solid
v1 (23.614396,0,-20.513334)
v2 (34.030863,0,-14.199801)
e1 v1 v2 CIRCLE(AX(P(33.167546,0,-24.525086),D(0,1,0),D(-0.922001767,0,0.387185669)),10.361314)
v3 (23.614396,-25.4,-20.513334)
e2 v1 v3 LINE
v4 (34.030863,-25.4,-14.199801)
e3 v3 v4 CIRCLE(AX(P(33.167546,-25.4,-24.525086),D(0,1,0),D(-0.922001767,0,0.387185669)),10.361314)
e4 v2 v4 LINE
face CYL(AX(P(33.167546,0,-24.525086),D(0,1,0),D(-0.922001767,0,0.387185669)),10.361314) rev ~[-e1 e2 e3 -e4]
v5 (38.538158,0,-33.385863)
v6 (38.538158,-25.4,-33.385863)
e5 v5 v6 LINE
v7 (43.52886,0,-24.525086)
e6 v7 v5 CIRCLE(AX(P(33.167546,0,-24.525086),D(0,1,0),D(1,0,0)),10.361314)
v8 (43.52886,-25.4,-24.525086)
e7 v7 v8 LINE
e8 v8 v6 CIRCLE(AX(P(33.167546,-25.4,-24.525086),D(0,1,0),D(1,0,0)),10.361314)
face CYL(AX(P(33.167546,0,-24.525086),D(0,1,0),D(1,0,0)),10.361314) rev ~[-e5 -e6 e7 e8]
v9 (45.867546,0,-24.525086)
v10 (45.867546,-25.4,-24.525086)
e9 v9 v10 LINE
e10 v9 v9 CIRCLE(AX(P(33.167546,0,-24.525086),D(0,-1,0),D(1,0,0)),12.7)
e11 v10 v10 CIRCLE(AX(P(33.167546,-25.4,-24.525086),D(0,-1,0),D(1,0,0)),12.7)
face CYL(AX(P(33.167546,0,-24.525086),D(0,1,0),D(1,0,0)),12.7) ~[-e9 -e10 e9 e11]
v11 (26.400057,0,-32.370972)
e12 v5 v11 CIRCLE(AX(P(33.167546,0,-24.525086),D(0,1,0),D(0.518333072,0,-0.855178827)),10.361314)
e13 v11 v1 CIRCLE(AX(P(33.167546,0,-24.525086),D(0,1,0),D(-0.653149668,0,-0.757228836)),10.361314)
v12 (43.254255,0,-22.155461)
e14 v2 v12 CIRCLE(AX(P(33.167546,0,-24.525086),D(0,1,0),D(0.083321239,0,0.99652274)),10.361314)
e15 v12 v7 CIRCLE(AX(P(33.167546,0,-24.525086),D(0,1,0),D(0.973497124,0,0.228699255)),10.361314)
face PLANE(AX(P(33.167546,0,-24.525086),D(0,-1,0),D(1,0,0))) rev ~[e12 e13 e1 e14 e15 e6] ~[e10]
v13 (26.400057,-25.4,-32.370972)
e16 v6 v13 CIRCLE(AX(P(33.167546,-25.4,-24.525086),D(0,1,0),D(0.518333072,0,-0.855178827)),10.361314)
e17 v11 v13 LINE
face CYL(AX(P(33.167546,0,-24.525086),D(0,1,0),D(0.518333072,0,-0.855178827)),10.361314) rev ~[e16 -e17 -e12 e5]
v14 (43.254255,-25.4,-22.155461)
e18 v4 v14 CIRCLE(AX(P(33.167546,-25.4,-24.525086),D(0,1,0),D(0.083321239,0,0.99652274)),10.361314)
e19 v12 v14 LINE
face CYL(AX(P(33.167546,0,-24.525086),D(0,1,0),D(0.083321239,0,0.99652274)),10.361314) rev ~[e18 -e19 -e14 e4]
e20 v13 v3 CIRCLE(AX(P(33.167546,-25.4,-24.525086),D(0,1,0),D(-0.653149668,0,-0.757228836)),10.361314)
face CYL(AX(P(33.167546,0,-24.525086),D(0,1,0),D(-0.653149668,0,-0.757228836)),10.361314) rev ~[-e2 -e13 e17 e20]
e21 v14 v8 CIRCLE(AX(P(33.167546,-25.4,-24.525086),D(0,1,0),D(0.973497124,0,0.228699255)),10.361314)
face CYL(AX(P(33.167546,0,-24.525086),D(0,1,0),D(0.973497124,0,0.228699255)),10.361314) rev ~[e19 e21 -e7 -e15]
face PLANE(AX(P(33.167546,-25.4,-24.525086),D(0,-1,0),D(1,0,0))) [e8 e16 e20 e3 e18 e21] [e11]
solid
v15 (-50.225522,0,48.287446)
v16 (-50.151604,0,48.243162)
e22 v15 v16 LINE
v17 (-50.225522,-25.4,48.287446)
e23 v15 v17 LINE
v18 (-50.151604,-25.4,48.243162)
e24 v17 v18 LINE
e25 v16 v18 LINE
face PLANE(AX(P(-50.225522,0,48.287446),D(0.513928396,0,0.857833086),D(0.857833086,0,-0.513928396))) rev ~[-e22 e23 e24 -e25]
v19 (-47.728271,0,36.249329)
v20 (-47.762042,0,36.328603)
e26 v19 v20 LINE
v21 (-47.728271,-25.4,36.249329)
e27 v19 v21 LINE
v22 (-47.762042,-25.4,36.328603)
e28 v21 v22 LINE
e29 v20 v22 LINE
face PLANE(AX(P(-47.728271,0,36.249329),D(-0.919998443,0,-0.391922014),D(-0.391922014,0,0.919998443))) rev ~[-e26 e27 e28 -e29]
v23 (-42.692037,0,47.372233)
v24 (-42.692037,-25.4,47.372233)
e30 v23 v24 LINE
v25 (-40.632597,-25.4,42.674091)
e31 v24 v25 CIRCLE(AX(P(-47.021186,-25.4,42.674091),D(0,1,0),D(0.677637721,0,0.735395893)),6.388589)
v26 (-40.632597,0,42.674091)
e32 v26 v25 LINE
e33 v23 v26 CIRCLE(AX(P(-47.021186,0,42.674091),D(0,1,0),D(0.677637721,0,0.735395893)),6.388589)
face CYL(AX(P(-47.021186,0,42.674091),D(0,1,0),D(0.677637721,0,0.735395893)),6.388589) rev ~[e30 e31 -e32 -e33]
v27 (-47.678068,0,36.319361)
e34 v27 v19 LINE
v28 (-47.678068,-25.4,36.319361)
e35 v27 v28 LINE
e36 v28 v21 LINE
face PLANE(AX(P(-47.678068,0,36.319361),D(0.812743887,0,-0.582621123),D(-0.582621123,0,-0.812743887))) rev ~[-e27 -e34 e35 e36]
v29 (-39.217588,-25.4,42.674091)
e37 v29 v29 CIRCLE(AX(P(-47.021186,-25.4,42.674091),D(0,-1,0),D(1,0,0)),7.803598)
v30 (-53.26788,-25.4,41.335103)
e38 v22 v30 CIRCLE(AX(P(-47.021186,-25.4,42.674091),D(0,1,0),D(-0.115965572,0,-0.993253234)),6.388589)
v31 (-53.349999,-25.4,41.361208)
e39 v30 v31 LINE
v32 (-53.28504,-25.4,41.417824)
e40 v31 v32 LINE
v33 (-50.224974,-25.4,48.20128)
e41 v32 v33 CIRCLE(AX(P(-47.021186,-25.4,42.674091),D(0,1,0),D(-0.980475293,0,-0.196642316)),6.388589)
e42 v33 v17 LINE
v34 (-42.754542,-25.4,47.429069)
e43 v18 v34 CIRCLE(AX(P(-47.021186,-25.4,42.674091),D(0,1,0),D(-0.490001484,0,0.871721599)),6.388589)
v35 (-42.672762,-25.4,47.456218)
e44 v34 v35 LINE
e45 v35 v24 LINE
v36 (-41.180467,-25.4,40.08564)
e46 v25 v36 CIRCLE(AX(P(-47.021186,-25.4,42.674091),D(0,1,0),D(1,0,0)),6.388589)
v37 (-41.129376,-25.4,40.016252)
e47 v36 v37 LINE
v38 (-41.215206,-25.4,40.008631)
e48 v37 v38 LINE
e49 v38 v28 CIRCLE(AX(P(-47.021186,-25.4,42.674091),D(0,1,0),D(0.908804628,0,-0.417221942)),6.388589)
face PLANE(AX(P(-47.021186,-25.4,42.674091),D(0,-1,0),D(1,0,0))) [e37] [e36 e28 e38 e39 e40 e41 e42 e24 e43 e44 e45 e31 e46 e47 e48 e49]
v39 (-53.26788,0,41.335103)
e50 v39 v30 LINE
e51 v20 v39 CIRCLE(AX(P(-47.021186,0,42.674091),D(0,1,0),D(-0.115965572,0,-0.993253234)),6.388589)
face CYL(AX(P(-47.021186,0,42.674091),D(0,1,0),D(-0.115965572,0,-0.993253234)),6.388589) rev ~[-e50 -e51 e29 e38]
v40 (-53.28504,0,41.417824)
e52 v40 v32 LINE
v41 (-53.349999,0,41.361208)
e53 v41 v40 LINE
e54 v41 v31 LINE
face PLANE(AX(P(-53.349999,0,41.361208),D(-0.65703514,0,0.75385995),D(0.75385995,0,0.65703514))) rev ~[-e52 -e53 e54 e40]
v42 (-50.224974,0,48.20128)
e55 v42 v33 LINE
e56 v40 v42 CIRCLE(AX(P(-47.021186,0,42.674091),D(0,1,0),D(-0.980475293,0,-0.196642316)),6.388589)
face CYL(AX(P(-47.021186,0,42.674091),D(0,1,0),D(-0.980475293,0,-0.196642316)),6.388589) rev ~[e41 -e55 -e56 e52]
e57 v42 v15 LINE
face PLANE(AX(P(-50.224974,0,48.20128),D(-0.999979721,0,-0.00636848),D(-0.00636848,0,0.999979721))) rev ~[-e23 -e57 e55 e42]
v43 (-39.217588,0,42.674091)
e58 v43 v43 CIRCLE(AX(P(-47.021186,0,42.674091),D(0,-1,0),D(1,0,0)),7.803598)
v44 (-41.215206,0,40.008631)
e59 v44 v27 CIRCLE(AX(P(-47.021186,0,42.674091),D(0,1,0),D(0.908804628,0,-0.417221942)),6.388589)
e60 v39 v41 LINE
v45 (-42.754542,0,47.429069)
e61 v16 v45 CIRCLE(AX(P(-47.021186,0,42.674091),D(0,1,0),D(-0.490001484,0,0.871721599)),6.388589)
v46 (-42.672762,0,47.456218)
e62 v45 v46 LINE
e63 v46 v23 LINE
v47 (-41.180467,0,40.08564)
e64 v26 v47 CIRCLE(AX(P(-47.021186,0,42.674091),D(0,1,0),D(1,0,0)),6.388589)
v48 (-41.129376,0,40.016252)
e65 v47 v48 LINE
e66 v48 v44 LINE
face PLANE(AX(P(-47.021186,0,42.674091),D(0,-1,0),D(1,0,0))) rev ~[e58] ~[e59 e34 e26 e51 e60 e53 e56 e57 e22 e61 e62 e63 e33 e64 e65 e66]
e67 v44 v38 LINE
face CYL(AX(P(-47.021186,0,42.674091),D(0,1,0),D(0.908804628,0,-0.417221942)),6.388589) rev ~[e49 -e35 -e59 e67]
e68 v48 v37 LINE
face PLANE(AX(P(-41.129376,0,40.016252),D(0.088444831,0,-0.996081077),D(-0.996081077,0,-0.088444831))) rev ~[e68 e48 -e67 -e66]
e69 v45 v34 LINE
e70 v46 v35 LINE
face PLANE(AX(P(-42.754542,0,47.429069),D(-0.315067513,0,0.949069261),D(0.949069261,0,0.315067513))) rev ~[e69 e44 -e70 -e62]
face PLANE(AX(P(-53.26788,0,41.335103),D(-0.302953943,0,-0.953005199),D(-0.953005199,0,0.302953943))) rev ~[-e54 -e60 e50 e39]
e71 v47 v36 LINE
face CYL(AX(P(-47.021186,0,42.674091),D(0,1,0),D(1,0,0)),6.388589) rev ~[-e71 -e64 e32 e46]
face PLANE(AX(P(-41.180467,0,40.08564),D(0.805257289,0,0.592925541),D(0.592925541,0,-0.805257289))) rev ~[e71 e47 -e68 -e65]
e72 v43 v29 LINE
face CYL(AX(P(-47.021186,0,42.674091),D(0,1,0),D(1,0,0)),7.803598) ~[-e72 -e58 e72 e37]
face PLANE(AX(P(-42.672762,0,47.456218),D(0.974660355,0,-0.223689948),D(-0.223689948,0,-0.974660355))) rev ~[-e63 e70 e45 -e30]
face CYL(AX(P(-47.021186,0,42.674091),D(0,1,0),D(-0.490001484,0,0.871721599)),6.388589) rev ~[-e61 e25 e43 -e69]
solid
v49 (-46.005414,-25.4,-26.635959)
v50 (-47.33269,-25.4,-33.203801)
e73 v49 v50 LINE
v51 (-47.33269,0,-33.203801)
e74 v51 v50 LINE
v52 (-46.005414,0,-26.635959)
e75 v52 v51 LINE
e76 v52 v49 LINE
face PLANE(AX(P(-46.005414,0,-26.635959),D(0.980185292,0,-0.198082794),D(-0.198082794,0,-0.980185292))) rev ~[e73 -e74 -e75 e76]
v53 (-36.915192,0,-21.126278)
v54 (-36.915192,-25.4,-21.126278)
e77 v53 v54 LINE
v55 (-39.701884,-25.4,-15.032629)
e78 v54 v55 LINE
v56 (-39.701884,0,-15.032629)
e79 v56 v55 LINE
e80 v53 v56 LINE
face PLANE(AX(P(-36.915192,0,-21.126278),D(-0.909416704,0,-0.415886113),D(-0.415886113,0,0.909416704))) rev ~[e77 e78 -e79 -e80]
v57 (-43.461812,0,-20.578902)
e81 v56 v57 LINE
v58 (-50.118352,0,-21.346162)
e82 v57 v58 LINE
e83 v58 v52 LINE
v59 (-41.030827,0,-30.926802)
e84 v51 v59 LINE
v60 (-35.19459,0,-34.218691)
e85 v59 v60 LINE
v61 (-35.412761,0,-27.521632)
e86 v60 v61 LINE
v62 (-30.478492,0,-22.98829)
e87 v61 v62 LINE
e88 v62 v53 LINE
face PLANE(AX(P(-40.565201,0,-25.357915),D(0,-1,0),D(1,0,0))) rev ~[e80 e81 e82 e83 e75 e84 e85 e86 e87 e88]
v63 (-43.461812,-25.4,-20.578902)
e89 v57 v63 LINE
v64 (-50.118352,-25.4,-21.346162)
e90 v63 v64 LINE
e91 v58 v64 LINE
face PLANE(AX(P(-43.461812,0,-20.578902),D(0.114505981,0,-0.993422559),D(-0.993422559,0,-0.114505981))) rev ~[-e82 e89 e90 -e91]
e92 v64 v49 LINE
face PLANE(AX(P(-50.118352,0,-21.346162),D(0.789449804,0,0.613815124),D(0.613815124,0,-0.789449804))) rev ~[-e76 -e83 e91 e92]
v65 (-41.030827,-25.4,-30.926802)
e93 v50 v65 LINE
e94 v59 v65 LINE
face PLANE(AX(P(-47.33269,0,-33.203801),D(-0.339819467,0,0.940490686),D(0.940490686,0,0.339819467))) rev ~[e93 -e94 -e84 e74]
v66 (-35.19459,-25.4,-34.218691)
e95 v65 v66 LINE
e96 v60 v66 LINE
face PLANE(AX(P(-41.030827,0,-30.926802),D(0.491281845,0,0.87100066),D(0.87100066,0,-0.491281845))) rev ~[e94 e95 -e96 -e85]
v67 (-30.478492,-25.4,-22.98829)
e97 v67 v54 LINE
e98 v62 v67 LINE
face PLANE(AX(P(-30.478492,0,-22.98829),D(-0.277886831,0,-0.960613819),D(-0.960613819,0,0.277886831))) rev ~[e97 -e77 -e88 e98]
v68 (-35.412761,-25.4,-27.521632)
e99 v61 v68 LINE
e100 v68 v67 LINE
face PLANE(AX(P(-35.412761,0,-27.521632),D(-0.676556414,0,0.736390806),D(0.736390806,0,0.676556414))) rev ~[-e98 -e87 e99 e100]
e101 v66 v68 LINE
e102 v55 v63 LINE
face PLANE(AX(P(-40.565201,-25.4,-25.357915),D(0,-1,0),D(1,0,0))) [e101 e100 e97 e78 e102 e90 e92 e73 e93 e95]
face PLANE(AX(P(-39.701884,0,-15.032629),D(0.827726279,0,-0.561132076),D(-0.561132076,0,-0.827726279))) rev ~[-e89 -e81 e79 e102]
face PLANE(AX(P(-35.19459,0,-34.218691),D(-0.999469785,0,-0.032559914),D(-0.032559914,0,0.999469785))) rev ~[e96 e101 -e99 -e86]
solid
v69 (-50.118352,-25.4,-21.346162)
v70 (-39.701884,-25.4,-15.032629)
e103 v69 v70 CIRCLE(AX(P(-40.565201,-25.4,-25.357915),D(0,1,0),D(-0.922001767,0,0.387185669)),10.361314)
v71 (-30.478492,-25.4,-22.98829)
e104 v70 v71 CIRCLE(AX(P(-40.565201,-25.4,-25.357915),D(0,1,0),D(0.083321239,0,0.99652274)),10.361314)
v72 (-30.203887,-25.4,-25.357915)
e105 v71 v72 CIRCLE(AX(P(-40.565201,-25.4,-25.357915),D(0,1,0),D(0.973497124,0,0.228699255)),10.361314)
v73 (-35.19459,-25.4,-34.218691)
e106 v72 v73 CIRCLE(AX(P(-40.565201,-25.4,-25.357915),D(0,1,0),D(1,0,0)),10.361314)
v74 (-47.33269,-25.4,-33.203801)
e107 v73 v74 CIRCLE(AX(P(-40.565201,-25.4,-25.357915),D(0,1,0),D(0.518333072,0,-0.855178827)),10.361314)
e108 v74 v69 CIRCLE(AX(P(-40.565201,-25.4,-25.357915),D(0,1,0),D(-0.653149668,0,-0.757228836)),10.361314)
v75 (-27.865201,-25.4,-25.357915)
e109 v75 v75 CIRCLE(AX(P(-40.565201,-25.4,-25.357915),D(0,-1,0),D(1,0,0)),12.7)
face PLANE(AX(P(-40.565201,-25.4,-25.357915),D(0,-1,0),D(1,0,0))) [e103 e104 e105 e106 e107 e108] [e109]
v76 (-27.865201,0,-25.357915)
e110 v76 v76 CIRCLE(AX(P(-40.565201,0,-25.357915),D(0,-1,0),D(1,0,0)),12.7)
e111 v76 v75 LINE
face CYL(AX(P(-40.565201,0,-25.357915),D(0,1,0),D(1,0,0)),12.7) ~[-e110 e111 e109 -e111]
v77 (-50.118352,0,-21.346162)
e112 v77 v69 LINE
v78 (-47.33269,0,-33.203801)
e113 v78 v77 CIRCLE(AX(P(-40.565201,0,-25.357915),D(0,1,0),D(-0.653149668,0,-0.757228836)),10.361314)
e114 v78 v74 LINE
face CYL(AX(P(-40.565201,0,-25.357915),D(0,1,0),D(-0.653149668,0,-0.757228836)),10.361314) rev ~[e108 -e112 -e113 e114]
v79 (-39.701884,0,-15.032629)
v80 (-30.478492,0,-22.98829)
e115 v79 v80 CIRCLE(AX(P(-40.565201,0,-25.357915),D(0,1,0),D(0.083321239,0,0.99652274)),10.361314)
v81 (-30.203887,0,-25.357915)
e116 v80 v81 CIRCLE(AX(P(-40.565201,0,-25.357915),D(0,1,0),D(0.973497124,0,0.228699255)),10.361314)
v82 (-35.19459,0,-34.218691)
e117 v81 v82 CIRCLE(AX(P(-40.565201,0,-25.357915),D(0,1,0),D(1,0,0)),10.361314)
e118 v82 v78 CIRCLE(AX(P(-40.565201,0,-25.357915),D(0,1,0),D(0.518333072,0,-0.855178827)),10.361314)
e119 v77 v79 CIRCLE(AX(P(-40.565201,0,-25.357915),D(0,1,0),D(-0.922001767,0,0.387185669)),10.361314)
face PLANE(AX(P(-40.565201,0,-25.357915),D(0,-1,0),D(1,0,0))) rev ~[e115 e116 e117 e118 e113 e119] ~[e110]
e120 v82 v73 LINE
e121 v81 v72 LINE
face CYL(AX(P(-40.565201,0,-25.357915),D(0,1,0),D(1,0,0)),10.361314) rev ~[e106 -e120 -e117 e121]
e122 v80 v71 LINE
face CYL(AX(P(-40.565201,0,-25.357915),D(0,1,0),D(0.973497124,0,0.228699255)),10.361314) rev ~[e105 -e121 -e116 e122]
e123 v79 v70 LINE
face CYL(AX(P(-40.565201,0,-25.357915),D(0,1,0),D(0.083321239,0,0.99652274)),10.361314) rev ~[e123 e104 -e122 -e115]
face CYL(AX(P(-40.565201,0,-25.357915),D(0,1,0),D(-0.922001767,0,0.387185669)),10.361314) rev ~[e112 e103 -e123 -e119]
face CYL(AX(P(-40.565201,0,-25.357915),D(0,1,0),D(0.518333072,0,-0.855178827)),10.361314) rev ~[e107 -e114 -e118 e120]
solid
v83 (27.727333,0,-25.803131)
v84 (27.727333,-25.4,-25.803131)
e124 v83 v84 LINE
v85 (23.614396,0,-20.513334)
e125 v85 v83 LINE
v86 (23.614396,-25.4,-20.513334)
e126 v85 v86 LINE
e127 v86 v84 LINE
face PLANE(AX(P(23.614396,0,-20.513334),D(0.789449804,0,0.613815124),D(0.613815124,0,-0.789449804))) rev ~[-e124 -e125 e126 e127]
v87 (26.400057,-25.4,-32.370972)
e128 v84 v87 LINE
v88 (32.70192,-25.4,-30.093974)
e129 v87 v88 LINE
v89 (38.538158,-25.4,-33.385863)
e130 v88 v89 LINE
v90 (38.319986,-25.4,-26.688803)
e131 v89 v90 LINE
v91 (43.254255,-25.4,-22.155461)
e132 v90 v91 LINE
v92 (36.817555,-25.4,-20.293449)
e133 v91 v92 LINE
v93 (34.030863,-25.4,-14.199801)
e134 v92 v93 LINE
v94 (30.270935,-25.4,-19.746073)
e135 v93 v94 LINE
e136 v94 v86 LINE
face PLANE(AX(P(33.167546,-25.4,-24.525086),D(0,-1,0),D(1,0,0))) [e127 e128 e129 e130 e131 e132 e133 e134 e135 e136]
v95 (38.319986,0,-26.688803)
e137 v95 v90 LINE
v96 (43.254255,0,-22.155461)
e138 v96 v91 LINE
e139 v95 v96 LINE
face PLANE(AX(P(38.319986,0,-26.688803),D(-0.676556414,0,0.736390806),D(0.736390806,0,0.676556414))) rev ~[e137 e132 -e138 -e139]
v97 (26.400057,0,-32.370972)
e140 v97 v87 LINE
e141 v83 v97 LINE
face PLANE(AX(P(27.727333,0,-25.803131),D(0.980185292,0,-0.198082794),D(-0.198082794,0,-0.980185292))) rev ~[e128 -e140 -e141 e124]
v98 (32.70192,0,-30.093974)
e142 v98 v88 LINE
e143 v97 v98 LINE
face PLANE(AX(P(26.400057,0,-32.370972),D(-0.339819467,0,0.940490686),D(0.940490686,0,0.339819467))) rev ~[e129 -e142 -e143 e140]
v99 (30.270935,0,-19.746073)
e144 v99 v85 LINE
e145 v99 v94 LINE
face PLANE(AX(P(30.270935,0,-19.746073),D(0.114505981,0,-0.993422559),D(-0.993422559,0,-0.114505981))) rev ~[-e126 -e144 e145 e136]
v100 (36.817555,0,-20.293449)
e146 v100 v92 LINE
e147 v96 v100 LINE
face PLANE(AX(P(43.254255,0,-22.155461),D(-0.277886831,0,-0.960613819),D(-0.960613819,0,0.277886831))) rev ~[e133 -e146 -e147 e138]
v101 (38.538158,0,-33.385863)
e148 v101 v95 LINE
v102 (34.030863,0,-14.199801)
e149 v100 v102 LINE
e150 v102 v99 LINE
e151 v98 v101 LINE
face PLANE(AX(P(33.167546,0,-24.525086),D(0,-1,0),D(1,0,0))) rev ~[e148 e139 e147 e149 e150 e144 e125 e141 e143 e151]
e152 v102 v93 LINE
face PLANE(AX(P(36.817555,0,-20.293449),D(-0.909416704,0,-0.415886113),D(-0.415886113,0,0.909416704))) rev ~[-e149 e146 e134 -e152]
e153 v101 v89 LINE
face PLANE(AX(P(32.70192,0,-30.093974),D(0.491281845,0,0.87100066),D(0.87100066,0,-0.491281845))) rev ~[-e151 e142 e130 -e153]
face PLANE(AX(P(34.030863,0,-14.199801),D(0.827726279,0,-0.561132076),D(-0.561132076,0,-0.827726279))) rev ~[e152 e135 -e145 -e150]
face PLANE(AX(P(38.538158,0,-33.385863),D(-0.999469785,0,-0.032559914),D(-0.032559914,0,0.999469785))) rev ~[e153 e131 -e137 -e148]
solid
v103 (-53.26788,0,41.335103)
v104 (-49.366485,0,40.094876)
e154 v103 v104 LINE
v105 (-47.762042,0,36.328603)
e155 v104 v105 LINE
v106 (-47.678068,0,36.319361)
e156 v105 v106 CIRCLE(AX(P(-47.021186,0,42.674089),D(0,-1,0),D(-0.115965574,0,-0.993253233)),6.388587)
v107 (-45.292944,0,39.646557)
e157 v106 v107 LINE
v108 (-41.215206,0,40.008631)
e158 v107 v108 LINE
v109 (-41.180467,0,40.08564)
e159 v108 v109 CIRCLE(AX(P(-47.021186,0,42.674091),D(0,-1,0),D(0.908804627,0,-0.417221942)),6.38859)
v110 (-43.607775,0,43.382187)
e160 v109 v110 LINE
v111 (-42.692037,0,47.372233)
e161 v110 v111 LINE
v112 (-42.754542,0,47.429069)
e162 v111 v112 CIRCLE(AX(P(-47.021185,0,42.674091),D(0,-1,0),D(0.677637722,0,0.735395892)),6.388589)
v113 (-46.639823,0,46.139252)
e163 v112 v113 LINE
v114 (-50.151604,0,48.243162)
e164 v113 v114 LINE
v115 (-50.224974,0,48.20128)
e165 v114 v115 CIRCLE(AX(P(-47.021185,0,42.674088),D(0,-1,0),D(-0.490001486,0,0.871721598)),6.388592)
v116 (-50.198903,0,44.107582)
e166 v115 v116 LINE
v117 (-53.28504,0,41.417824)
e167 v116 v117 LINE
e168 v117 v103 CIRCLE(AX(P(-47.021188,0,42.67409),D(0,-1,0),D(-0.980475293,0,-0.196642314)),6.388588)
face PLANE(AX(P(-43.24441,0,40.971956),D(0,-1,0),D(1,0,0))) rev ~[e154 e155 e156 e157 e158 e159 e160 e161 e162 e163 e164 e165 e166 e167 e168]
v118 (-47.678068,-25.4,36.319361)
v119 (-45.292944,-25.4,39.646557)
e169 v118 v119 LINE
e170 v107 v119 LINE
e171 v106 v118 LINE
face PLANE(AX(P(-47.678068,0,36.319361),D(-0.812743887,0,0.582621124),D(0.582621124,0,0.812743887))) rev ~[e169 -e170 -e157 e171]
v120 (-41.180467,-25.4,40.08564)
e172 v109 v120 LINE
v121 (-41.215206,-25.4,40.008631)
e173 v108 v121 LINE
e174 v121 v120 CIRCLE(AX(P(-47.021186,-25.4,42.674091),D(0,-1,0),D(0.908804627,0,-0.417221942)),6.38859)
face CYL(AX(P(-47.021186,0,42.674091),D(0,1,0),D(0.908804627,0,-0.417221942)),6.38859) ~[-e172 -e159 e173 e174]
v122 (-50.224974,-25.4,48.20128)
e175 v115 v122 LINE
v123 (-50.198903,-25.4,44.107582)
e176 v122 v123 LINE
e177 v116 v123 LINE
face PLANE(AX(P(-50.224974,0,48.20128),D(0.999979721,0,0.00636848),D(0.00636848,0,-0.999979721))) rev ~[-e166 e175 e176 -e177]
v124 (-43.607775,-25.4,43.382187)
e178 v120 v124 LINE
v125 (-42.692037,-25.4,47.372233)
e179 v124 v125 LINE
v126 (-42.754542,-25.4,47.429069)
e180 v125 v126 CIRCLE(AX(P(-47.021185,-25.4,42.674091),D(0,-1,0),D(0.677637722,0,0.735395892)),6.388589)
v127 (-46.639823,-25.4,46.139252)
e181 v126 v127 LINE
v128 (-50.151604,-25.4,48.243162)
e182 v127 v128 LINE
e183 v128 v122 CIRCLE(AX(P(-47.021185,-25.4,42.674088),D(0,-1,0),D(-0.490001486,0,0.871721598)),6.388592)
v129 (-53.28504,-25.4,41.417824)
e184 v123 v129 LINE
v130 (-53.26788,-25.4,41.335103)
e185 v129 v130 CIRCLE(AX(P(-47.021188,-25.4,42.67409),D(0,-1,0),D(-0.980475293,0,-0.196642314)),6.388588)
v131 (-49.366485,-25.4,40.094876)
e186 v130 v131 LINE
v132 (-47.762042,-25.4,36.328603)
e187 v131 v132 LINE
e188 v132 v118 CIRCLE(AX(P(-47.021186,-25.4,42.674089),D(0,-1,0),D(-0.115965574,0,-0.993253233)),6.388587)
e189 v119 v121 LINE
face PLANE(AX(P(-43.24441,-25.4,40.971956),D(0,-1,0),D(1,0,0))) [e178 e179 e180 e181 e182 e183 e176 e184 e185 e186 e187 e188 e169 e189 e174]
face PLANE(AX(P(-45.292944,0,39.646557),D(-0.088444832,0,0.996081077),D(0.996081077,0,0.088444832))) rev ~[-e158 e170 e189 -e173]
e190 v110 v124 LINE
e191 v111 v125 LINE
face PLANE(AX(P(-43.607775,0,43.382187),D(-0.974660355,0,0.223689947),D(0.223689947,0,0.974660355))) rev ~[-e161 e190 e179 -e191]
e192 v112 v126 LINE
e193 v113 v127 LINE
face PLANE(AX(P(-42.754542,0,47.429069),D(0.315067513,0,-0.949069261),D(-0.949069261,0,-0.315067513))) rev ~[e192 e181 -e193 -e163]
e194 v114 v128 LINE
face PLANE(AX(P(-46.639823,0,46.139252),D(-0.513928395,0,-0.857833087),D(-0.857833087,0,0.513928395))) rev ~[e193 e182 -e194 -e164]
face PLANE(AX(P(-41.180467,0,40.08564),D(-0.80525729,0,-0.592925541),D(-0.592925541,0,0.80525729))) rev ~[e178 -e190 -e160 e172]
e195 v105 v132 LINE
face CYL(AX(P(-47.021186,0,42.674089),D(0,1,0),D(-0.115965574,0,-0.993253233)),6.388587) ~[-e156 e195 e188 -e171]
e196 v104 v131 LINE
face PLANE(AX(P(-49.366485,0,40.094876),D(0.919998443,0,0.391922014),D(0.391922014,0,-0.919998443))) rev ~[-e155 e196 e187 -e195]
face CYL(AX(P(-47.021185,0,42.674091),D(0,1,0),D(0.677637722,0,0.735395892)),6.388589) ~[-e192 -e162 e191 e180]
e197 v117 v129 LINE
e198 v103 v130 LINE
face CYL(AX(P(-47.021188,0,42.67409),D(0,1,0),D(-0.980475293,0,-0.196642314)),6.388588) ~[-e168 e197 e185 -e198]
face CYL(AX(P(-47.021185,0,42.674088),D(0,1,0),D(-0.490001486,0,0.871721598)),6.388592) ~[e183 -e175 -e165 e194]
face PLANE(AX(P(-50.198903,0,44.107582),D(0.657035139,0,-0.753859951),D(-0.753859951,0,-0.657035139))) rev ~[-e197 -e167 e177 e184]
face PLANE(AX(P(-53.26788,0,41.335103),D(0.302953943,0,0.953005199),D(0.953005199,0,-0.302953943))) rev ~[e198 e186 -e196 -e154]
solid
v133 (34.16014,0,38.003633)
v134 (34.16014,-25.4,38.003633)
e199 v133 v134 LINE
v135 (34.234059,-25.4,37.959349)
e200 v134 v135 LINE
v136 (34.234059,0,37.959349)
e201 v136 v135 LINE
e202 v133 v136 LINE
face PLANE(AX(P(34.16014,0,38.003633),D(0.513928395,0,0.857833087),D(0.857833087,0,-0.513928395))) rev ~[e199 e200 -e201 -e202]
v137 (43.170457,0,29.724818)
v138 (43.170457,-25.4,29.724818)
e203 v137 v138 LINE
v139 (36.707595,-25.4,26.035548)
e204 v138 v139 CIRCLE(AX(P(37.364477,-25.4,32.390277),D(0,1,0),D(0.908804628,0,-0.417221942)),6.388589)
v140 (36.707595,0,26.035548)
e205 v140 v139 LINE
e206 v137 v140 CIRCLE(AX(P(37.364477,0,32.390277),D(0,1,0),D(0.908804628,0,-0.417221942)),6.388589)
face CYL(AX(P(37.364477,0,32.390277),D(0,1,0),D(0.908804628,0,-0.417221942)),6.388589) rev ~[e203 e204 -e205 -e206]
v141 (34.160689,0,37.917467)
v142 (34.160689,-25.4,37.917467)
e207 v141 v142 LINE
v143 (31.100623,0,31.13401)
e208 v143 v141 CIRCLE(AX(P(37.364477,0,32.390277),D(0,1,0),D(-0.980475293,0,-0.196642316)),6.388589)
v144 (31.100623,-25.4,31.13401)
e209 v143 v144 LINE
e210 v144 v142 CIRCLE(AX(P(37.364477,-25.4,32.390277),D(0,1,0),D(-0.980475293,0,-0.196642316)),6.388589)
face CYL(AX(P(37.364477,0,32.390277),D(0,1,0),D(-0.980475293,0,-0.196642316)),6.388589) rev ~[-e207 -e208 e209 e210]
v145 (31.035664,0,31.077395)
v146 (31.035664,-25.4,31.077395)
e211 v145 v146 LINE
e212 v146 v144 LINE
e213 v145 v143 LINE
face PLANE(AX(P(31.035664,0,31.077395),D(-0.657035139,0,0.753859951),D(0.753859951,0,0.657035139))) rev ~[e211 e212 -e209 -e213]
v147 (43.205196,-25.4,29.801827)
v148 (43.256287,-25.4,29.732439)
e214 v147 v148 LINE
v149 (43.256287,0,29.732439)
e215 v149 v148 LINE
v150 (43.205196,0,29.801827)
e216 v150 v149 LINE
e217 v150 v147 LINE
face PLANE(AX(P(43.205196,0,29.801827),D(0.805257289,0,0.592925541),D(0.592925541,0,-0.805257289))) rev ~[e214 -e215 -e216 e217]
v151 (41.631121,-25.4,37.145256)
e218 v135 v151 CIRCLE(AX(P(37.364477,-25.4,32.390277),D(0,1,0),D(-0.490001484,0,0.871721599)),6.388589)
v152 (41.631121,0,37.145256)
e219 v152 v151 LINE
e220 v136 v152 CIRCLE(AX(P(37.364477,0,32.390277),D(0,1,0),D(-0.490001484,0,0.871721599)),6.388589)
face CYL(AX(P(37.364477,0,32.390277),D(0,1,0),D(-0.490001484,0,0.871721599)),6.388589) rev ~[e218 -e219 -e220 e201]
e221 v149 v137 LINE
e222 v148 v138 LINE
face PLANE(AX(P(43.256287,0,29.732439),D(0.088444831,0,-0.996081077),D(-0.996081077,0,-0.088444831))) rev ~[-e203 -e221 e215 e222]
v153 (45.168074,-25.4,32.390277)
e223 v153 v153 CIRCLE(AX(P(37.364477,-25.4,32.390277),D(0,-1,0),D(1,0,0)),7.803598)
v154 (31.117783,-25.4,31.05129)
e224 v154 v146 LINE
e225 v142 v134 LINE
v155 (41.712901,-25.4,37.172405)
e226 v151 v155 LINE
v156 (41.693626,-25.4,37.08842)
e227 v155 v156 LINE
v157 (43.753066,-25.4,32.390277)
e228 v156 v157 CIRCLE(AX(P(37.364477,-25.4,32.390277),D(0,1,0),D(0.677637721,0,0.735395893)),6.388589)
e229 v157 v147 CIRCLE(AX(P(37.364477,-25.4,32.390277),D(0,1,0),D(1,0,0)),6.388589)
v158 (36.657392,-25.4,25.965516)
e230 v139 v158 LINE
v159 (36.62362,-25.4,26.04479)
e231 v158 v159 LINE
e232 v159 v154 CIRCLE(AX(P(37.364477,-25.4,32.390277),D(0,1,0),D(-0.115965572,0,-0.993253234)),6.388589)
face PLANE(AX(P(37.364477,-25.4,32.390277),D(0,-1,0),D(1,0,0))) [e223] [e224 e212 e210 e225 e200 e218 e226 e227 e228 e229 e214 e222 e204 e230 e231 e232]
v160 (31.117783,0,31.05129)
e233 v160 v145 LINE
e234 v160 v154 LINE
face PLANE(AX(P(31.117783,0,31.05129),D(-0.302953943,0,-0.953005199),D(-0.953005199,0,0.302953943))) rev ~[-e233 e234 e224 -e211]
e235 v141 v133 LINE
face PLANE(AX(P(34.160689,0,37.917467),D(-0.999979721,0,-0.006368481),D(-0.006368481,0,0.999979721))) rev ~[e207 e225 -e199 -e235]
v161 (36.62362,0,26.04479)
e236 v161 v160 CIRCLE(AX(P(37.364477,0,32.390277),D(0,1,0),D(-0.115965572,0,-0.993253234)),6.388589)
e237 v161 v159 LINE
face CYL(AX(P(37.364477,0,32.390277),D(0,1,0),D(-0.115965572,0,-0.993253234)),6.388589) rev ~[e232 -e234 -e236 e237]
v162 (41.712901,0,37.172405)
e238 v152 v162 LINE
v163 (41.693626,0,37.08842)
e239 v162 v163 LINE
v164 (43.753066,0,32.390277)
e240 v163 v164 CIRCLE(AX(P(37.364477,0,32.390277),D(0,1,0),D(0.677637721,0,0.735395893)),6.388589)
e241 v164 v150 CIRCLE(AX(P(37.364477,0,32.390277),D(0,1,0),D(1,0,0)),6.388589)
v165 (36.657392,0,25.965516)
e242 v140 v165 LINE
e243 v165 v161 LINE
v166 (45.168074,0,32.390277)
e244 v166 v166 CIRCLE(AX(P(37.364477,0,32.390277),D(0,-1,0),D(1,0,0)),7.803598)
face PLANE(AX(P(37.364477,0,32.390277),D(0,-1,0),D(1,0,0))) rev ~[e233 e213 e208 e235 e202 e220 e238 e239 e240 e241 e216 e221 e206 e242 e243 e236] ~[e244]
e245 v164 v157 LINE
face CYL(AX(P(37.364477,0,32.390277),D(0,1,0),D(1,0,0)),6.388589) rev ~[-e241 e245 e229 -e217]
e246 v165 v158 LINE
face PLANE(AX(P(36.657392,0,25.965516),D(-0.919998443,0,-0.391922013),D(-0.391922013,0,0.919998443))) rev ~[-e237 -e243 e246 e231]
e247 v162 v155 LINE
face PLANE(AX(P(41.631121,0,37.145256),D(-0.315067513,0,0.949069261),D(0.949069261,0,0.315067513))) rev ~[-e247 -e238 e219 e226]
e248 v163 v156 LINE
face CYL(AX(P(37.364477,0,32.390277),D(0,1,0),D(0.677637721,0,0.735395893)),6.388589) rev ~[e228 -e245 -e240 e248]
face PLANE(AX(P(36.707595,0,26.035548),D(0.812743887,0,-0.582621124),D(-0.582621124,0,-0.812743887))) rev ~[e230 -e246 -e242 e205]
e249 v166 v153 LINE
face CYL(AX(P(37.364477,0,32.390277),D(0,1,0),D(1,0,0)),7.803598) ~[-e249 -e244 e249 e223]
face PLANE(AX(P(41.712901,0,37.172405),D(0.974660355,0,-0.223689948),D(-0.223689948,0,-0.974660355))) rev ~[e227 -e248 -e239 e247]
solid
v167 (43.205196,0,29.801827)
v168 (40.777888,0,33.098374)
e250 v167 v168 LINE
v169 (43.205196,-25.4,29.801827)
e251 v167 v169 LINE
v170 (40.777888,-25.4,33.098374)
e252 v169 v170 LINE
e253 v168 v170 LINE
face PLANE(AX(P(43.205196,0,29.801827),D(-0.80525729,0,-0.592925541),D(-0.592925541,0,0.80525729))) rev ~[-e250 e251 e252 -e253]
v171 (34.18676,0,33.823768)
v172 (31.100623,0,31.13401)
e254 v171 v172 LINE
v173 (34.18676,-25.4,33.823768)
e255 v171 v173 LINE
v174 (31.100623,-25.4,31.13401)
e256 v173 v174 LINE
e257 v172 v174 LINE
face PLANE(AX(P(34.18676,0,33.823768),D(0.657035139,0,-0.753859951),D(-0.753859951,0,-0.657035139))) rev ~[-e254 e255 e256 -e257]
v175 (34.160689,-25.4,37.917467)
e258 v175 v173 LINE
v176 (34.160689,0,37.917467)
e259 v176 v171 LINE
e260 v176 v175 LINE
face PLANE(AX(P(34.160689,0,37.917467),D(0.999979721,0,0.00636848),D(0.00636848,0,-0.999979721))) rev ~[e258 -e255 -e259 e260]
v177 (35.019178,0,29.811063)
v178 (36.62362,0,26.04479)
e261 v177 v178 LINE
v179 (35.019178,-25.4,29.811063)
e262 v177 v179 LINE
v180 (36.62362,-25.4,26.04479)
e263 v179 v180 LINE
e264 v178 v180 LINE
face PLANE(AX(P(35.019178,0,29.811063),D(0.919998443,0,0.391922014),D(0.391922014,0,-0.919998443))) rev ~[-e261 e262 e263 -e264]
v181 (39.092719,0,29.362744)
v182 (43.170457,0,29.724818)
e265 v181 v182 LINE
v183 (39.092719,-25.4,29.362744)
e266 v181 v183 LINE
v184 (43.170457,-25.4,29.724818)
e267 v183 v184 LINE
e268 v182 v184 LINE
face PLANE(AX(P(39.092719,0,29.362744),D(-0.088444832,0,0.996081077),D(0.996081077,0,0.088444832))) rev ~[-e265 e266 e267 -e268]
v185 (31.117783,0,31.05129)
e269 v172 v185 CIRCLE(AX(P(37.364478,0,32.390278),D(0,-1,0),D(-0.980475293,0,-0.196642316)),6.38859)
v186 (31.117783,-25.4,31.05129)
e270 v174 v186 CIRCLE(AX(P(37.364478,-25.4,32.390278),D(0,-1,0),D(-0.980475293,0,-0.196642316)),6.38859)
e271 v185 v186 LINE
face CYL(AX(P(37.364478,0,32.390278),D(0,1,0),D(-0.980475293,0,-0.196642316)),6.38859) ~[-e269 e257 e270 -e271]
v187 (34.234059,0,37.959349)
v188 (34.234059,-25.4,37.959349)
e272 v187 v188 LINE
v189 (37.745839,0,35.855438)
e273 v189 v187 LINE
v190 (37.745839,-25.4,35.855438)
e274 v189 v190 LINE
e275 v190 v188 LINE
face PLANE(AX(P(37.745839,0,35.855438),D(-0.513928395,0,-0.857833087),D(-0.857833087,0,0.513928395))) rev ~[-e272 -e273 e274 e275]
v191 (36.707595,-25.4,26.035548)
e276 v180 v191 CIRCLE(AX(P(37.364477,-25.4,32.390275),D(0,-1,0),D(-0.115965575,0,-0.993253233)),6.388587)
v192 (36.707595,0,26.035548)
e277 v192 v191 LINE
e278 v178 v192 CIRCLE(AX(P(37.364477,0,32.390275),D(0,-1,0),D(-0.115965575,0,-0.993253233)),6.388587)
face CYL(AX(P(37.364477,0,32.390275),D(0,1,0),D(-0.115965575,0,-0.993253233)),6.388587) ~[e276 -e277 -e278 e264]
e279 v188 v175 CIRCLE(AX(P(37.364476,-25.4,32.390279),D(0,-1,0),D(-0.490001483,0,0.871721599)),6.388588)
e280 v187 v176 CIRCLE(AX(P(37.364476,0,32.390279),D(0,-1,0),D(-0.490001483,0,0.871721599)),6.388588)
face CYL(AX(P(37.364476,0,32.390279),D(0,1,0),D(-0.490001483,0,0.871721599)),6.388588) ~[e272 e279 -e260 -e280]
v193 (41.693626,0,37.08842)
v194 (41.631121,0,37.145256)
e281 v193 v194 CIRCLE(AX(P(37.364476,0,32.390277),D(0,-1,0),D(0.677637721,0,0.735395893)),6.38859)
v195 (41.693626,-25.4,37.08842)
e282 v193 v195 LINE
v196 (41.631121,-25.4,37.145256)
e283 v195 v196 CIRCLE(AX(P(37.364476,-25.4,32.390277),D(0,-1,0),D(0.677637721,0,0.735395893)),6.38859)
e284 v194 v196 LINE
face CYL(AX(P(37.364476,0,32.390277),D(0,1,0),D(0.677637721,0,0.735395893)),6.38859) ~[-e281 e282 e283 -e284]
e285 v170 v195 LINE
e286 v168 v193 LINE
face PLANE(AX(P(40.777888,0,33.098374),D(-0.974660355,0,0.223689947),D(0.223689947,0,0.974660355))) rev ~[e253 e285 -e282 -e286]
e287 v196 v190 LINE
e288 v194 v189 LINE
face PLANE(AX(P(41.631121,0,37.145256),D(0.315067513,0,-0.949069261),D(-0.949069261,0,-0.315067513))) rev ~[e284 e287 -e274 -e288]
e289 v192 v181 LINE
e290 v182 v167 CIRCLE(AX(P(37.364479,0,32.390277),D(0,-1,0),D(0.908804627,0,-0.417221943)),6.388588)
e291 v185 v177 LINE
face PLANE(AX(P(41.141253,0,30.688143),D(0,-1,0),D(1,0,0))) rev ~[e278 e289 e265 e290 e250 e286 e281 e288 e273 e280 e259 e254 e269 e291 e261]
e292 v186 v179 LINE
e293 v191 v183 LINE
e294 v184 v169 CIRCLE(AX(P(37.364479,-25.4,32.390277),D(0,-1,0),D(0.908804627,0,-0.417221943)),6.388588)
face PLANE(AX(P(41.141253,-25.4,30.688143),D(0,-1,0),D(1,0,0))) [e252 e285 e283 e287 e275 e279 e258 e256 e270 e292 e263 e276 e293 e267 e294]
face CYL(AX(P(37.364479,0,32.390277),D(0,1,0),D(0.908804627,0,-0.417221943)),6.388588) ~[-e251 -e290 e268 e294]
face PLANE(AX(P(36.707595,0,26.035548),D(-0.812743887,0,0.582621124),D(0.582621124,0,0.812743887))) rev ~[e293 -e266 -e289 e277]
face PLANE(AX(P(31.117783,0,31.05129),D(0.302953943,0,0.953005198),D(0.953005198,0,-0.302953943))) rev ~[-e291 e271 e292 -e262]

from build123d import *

# Parameters (mm, degrees)
F0_R     = 7.8035976044
F1_DEPTH = 25.4
F0_R_2   = 12.7


with BuildPart() as f1:
    # F0 (on Front) → F1 (new body)
    with BuildSketch(Plane.XZ):
        with Locations((-47.0211860416, 42.674090528)):
            Circle(F0_R)
        with BuildLine():
            ThreePointArc((-42.6920368305, 47.3722329839), (-41.1700651022, 45.238941241), (-40.6325965707, 42.674090528))
            ThreePointArc((-40.6325965707, 42.674090528), (-40.7710648077, 41.3511921991), (-41.1804671129, 40.085639674))
            Line((-41.1804671129, 40.085639674), (-41.1293756872, 40.0162519683))
            Line((-41.1293756872, 40.0162519683), (-41.2152063671, 40.0086308216))
            ThreePointArc((-41.2152063671, 40.0086308216), (-43.8540138331, 37.1258389449), (-47.6780676851, 36.319361428))
            Line((-47.6780676851, 36.319361428), (-47.7282711959, 36.2493286144))
            Line((-47.7282711959, 36.2493286144), (-47.7620424759, 36.3286033779))
            ThreePointArc((-47.7620424759, 36.3286033779), (-51.3191768273, 37.9474267326), (-53.2678801526, 41.3351028089))
            Line((-53.2678801526, 41.3351028089), (-53.3499990543, 41.3612078554))
            Line((-53.3499990543, 41.3612078554), (-53.2850401734, 41.4178235005))
            ThreePointArc((-53.2850401734, 41.4178235005), (-52.844662639, 45.3011032322), (-50.2249736761, 48.2012797071))
            Line((-50.2249736761, 48.2012797071), (-50.2255224376, 48.2874463267))
            Line((-50.2255224376, 48.2874463267), (-50.1516043614, 48.2431619561))
            ThreePointArc((-50.1516043614, 48.2431619561), (-46.3223017258, 49.0243374634), (-42.7545415815, 47.429069022))
            Line((-42.7545415815, 47.429069022), (-42.672761833, 47.4562178751))
            Line((-42.672761833, 47.4562178751), (-42.6920368305, 47.3722329839))
        make_face(mode=Mode.SUBTRACT)
    extrude(amount=F1_DEPTH)


with BuildPart() as f1b:
    # F0 (on Front) → F1, piece 2 (new body)
    with BuildSketch(Plane.XZ):
        with BuildLine():
            ThreePointArc((-41.2152063671, 40.0086308216), (-41.1977094443, 40.0470778238), (-41.1804671129, 40.085639674))
            Line((-41.1804671129, 40.085639674), (-43.6077745206, 43.3821867905))
            ThreePointArc((-43.6077745206, 43.3821867905), (-43.5533180881, 43.0299983605), (-43.5351024901, 42.674090528))
            ThreePointArc((-43.5351024901, 42.674090528), (-44.0064245578, 40.9236643729), (-45.2929443083, 39.6465570369))
            Line((-45.2929443083, 39.6465570369), (-41.2152063671, 40.0086308216))
        make_face()
        with BuildLine():
            ThreePointArc((-43.5351024901, 42.674090528), (-43.5533180881, 43.0299983605), (-43.6077745206, 43.3821867905))
            ThreePointArc((-43.6077745206, 43.3821867905), (-44.6758866526, 45.25330539), (-46.6398234374, 46.1392515766))
            ThreePointArc((-46.6398234374, 46.1392515766), (-48.749427775, 45.7016240191), (-50.1989025112, 44.10758157))
            ThreePointArc((-50.1989025112, 44.10758157), (-50.4345975626, 41.9659942655), (-49.3664854306, 40.094875666))
            ThreePointArc((-49.3664854306, 40.094875666), (-47.4025486458, 39.2089294794), (-45.2929443083, 39.6465570369))
            ThreePointArc((-45.2929443083, 39.6465570369), (-44.0064245578, 40.9236643729), (-43.5351024901, 42.674090528))
        make_face()
        with BuildLine():
            ThreePointArc((-47.7620424759, 36.3286033779), (-47.7200703574, 36.3238435925), (-47.6780676851, 36.319361428))
            Line((-47.6780676851, 36.319361428), (-45.2929443083, 39.6465570369))
            ThreePointArc((-45.2929443083, 39.6465570369), (-47.4025486458, 39.2089294794), (-49.3664854306, 40.094875666))
            Line((-49.3664854306, 40.094875666), (-47.7620424759, 36.3286033779))
        make_face()
        with BuildLine():
            ThreePointArc((-49.3664854306, 40.094875666), (-50.4345975626, 41.9659942655), (-50.1989025112, 44.10758157))
            Line((-50.1989025112, 44.10758157), (-53.2850401734, 41.4178235005))
            ThreePointArc((-53.2850401734, 41.4178235005), (-53.2765969004, 41.3764347891), (-53.2678801526, 41.3351028089))
            Line((-53.2678801526, 41.3351028089), (-49.3664854306, 40.094875666))
        make_face()
        with BuildLine():
            Line((-46.6398234374, 46.1392515766), (-50.1516043614, 48.2431619561))
            ThreePointArc((-50.1516043614, 48.2431619561), (-50.1883582501, 48.2223421111), (-50.2249736761, 48.2012797071))
            Line((-50.2249736761, 48.2012797071), (-50.1989025112, 44.10758157))
            ThreePointArc((-50.1989025112, 44.10758157), (-48.749427775, 45.7016240191), (-46.6398234374, 46.1392515766))
        make_face()
        with BuildLine():
            Line((-43.6077745206, 43.3821867905), (-42.6920368305, 47.3722329839))
            ThreePointArc((-42.6920368305, 47.3722329839), (-42.723195256, 47.4007543234), (-42.7545415815, 47.429069022))
            Line((-42.7545415815, 47.429069022), (-46.6398234374, 46.1392515766))
            ThreePointArc((-46.6398234374, 46.1392515766), (-44.6758866526, 45.25330539), (-43.6077745206, 43.3821867905))
        make_face()
    extrude(amount=F1_DEPTH)


with BuildPart() as f1c:
    # F0 (on Front) → F1, piece 3 (new body)
    with BuildSketch(Plane.XZ):
        with BuildLine():
            ThreePointArc((43.1704565667, 29.7248177096), (43.1879534895, 29.7632647118), (43.2051958208, 29.801826562))
            Line((43.2051958208, 29.801826562), (40.7778884131, 33.0983736784))
            ThreePointArc((40.7778884131, 33.0983736784), (40.8323448457, 32.7461852485), (40.8505604437, 32.390277416))
            ThreePointArc((40.8505604437, 32.390277416), (40.3792383759, 30.6398512609), (39.0927186255, 29.3627439249))
            Line((39.0927186255, 29.3627439249), (43.1704565667, 29.7248177096))
        make_face()
        with BuildLine():
            ThreePointArc((36.6236204579, 26.0447902659), (36.6655925763, 26.0400304805), (36.7075952487, 26.035548316))
            Line((36.7075952487, 26.035548316), (39.0927186255, 29.3627439249))
            ThreePointArc((39.0927186255, 29.3627439249), (36.9831142879, 28.9251163674), (35.0191775031, 29.8110625539))
            Line((35.0191775031, 29.8110625539), (36.6236204579, 26.0447902659))
        make_face()
        with BuildLine():
            ThreePointArc((40.8505604437, 32.390277416), (40.8323448457, 32.7461852485), (40.7778884131, 33.0983736784))
            ThreePointArc((40.7778884131, 33.0983736784), (39.7097762811, 34.969492278), (37.7458394963, 35.8554384646))
            ThreePointArc((37.7458394963, 35.8554384646), (35.6362351587, 35.417810907), (34.1867604225, 33.823768458))
            ThreePointArc((34.1867604225, 33.823768458), (33.9510653711, 31.6821811535), (35.0191775031, 29.8110625539))
            ThreePointArc((35.0191775031, 29.8110625539), (36.9831142879, 28.9251163674), (39.0927186255, 29.3627439249))
            ThreePointArc((39.0927186255, 29.3627439249), (40.3792383759, 30.6398512609), (40.8505604437, 32.390277416))
        make_face()
        with BuildLine():
            ThreePointArc((35.0191775031, 29.8110625539), (33.9510653711, 31.6821811535), (34.1867604225, 33.823768458))
            Line((34.1867604225, 33.823768458), (31.1006227604, 31.1340103884))
            ThreePointArc((31.1006227604, 31.1340103884), (31.1090660334, 31.0926216771), (31.1177827811, 31.0512896969))
            Line((31.1177827811, 31.0512896969), (35.0191775031, 29.8110625539))
        make_face()
        with BuildLine():
            Line((37.7458394963, 35.8554384646), (34.2340585724, 37.9593488441))
            ThreePointArc((34.2340585724, 37.9593488441), (34.1973046836, 37.9385289991), (34.1606892577, 37.917466595))
            Line((34.1606892577, 37.917466595), (34.1867604225, 33.823768458))
            ThreePointArc((34.1867604225, 33.823768458), (35.6362351587, 35.417810907), (37.7458394963, 35.8554384646))
        make_face()
        with BuildLine():
            Line((40.7778884131, 33.0983736784), (41.6936261032, 37.0884198719))
            ThreePointArc((41.6936261032, 37.0884198719), (41.6624676778, 37.1169412113), (41.6311213523, 37.14525591))
            Line((41.6311213523, 37.14525591), (37.7458394963, 35.8554384646))
            ThreePointArc((37.7458394963, 35.8554384646), (39.7097762811, 34.969492278), (40.7778884131, 33.0983736784))
        make_face()
    extrude(amount=F1_DEPTH)


with BuildPart() as f1d:
    # F0 (on Front) → F1, piece 4 (new body)
    with BuildSketch(Plane.XZ):
        with Locations((37.3644768921, 32.390277416)):
            Circle(F0_R)
        with BuildLine():
            ThreePointArc((41.6936261032, 37.0884198719), (43.2155978316, 34.9551281289), (43.753066363, 32.390277416))
            ThreePointArc((43.753066363, 32.390277416), (43.6145981261, 31.0673790871), (43.2051958208, 29.801826562))
            Line((43.2051958208, 29.801826562), (43.2562872465, 29.7324388563))
            Line((43.2562872465, 29.7324388563), (43.1704565667, 29.7248177096))
            ThreePointArc((43.1704565667, 29.7248177096), (40.5316491006, 26.8420258328), (36.7075952487, 26.035548316))
            Line((36.7075952487, 26.035548316), (36.6573917378, 25.9655155024))
            Line((36.6573917378, 25.9655155024), (36.6236204579, 26.0447902659))
            ThreePointArc((36.6236204579, 26.0447902659), (33.0664861065, 27.6636136206), (31.1177827811, 31.0512896969))
            Line((31.1177827811, 31.0512896969), (31.0356638794, 31.0773947434))
            Line((31.0356638794, 31.0773947434), (31.1006227604, 31.1340103884))
            ThreePointArc((31.1006227604, 31.1340103884), (31.5410002948, 35.0172901202), (34.1606892577, 37.917466595))
            Line((34.1606892577, 37.917466595), (34.1601404961, 38.0036332147))
            Line((34.1601404961, 38.0036332147), (34.2340585724, 37.9593488441))
            ThreePointArc((34.2340585724, 37.9593488441), (38.0633612079, 38.7405243514), (41.6311213523, 37.14525591))
            Line((41.6311213523, 37.14525591), (41.7129011007, 37.1724047631))
            Line((41.7129011007, 37.1724047631), (41.6936261032, 37.0884198719))
        make_face(mode=Mode.SUBTRACT)
    extrude(amount=F1_DEPTH)


with BuildPart() as f1e:
    # F0 (on Front) → F1, piece 5 (new body)
    with BuildSketch(Plane.XZ):
        with Locations((-40.5652014311, -25.3579147756)):
            Circle(F0_R_2)
        with BuildLine():
            ThreePointArc((-30.4784917314, -22.9882899115), (-30.2727672128, -24.1651732175), (-30.2038871051, -25.3579147756))
            ThreePointArc((-30.2038871051, -25.3579147756), (-31.5373713373, -30.4427076289), (-35.1945895483, -34.2186914102))
            ThreePointArc((-35.1945895483, -34.2186914102), (-41.4285189774, -35.6832001168), (-47.3326904468, -33.2038007667))
            ThreePointArc((-47.3326904468, -33.2038007667), (-50.6519111307, -27.7275396398), (-50.1183515441, -21.3461623554))
            ThreePointArc((-50.1183515441, -21.3461623554), (-45.9358133139, -16.4971381411), (-39.7018838848, -15.0326294345))
            ThreePointArc((-39.7018838848, -15.0326294345), (-33.7977124154, -17.5120287846), (-30.4784917314, -22.9882899115))
        make_face(mode=Mode.SUBTRACT)
    extrude(amount=F1_DEPTH)


with BuildPart() as f1f:
    # F0 (on Front) → F1, piece 6 (new body)
    with BuildSketch(Plane.XZ):
        Polygon((-35.4127609036, -27.5216320324), (-30.4784917314, -22.9882899115), (-36.9151923491, -21.1262780405), (-39.7018838848, -15.0326294345), (-43.4618122867, -20.5789021885), (-50.1183515441, -21.3461623554), (-46.005414474, -26.6359592992), (-47.3326904468, -33.2038007667), (-41.0308271421, -30.9268023175), (-35.1945895483, -34.2186914102), align=None)
    extrude(amount=F1_DEPTH)


with BuildPart() as f1g:
    # F0 (on Front) → F1, piece 7 (new body)
    with BuildSketch(Plane.XZ):
        with Locations((33.1675457677, -24.5250859791)):
            Circle(F0_R_2)
        with BuildLine():
            ThreePointArc((43.2542554674, -22.1554611149), (43.459979986, -23.332344421), (43.5288600937, -24.5250859791))
            ThreePointArc((43.5288600937, -24.5250859791), (42.1953758614, -29.6098788324), (38.5381576505, -33.3858626136))
            ThreePointArc((38.5381576505, -33.3858626136), (32.3042282214, -34.8503713202), (26.400056752, -32.3709719701))
            ThreePointArc((26.400056752, -32.3709719701), (23.080836068, -26.8947108432), (23.6143956547, -20.5133335589))
            ThreePointArc((23.6143956547, -20.5133335589), (27.7969338849, -15.6643093445), (34.030863314, -14.1998006379))
            ThreePointArc((34.030863314, -14.1998006379), (39.9350347834, -16.679199988), (43.2542554674, -22.1554611149))
        make_face(mode=Mode.SUBTRACT)
    extrude(amount=F1_DEPTH)


with BuildPart() as f1h:
    # F0 (on Front) → F1, piece 8 (new body)
    with BuildSketch(Plane.XZ):
        Polygon((38.3199862952, -26.6888032358), (43.2542554674, -22.1554611149), (36.8175548497, -20.293449244), (34.030863314, -14.1998006379), (30.2709349121, -19.7460733919), (23.6143956547, -20.5133335589), (27.7273327248, -25.8031305027), (26.400056752, -32.3709719701), (32.7019200567, -30.0939735209), (38.5381576505, -33.3858626136), align=None)
    extrude(amount=F1_DEPTH)


solid = Compound([f1.part, f1b.part, f1c.part, f1d.part, f1e.part, f1f.part, f1g.part, f1h.part])
